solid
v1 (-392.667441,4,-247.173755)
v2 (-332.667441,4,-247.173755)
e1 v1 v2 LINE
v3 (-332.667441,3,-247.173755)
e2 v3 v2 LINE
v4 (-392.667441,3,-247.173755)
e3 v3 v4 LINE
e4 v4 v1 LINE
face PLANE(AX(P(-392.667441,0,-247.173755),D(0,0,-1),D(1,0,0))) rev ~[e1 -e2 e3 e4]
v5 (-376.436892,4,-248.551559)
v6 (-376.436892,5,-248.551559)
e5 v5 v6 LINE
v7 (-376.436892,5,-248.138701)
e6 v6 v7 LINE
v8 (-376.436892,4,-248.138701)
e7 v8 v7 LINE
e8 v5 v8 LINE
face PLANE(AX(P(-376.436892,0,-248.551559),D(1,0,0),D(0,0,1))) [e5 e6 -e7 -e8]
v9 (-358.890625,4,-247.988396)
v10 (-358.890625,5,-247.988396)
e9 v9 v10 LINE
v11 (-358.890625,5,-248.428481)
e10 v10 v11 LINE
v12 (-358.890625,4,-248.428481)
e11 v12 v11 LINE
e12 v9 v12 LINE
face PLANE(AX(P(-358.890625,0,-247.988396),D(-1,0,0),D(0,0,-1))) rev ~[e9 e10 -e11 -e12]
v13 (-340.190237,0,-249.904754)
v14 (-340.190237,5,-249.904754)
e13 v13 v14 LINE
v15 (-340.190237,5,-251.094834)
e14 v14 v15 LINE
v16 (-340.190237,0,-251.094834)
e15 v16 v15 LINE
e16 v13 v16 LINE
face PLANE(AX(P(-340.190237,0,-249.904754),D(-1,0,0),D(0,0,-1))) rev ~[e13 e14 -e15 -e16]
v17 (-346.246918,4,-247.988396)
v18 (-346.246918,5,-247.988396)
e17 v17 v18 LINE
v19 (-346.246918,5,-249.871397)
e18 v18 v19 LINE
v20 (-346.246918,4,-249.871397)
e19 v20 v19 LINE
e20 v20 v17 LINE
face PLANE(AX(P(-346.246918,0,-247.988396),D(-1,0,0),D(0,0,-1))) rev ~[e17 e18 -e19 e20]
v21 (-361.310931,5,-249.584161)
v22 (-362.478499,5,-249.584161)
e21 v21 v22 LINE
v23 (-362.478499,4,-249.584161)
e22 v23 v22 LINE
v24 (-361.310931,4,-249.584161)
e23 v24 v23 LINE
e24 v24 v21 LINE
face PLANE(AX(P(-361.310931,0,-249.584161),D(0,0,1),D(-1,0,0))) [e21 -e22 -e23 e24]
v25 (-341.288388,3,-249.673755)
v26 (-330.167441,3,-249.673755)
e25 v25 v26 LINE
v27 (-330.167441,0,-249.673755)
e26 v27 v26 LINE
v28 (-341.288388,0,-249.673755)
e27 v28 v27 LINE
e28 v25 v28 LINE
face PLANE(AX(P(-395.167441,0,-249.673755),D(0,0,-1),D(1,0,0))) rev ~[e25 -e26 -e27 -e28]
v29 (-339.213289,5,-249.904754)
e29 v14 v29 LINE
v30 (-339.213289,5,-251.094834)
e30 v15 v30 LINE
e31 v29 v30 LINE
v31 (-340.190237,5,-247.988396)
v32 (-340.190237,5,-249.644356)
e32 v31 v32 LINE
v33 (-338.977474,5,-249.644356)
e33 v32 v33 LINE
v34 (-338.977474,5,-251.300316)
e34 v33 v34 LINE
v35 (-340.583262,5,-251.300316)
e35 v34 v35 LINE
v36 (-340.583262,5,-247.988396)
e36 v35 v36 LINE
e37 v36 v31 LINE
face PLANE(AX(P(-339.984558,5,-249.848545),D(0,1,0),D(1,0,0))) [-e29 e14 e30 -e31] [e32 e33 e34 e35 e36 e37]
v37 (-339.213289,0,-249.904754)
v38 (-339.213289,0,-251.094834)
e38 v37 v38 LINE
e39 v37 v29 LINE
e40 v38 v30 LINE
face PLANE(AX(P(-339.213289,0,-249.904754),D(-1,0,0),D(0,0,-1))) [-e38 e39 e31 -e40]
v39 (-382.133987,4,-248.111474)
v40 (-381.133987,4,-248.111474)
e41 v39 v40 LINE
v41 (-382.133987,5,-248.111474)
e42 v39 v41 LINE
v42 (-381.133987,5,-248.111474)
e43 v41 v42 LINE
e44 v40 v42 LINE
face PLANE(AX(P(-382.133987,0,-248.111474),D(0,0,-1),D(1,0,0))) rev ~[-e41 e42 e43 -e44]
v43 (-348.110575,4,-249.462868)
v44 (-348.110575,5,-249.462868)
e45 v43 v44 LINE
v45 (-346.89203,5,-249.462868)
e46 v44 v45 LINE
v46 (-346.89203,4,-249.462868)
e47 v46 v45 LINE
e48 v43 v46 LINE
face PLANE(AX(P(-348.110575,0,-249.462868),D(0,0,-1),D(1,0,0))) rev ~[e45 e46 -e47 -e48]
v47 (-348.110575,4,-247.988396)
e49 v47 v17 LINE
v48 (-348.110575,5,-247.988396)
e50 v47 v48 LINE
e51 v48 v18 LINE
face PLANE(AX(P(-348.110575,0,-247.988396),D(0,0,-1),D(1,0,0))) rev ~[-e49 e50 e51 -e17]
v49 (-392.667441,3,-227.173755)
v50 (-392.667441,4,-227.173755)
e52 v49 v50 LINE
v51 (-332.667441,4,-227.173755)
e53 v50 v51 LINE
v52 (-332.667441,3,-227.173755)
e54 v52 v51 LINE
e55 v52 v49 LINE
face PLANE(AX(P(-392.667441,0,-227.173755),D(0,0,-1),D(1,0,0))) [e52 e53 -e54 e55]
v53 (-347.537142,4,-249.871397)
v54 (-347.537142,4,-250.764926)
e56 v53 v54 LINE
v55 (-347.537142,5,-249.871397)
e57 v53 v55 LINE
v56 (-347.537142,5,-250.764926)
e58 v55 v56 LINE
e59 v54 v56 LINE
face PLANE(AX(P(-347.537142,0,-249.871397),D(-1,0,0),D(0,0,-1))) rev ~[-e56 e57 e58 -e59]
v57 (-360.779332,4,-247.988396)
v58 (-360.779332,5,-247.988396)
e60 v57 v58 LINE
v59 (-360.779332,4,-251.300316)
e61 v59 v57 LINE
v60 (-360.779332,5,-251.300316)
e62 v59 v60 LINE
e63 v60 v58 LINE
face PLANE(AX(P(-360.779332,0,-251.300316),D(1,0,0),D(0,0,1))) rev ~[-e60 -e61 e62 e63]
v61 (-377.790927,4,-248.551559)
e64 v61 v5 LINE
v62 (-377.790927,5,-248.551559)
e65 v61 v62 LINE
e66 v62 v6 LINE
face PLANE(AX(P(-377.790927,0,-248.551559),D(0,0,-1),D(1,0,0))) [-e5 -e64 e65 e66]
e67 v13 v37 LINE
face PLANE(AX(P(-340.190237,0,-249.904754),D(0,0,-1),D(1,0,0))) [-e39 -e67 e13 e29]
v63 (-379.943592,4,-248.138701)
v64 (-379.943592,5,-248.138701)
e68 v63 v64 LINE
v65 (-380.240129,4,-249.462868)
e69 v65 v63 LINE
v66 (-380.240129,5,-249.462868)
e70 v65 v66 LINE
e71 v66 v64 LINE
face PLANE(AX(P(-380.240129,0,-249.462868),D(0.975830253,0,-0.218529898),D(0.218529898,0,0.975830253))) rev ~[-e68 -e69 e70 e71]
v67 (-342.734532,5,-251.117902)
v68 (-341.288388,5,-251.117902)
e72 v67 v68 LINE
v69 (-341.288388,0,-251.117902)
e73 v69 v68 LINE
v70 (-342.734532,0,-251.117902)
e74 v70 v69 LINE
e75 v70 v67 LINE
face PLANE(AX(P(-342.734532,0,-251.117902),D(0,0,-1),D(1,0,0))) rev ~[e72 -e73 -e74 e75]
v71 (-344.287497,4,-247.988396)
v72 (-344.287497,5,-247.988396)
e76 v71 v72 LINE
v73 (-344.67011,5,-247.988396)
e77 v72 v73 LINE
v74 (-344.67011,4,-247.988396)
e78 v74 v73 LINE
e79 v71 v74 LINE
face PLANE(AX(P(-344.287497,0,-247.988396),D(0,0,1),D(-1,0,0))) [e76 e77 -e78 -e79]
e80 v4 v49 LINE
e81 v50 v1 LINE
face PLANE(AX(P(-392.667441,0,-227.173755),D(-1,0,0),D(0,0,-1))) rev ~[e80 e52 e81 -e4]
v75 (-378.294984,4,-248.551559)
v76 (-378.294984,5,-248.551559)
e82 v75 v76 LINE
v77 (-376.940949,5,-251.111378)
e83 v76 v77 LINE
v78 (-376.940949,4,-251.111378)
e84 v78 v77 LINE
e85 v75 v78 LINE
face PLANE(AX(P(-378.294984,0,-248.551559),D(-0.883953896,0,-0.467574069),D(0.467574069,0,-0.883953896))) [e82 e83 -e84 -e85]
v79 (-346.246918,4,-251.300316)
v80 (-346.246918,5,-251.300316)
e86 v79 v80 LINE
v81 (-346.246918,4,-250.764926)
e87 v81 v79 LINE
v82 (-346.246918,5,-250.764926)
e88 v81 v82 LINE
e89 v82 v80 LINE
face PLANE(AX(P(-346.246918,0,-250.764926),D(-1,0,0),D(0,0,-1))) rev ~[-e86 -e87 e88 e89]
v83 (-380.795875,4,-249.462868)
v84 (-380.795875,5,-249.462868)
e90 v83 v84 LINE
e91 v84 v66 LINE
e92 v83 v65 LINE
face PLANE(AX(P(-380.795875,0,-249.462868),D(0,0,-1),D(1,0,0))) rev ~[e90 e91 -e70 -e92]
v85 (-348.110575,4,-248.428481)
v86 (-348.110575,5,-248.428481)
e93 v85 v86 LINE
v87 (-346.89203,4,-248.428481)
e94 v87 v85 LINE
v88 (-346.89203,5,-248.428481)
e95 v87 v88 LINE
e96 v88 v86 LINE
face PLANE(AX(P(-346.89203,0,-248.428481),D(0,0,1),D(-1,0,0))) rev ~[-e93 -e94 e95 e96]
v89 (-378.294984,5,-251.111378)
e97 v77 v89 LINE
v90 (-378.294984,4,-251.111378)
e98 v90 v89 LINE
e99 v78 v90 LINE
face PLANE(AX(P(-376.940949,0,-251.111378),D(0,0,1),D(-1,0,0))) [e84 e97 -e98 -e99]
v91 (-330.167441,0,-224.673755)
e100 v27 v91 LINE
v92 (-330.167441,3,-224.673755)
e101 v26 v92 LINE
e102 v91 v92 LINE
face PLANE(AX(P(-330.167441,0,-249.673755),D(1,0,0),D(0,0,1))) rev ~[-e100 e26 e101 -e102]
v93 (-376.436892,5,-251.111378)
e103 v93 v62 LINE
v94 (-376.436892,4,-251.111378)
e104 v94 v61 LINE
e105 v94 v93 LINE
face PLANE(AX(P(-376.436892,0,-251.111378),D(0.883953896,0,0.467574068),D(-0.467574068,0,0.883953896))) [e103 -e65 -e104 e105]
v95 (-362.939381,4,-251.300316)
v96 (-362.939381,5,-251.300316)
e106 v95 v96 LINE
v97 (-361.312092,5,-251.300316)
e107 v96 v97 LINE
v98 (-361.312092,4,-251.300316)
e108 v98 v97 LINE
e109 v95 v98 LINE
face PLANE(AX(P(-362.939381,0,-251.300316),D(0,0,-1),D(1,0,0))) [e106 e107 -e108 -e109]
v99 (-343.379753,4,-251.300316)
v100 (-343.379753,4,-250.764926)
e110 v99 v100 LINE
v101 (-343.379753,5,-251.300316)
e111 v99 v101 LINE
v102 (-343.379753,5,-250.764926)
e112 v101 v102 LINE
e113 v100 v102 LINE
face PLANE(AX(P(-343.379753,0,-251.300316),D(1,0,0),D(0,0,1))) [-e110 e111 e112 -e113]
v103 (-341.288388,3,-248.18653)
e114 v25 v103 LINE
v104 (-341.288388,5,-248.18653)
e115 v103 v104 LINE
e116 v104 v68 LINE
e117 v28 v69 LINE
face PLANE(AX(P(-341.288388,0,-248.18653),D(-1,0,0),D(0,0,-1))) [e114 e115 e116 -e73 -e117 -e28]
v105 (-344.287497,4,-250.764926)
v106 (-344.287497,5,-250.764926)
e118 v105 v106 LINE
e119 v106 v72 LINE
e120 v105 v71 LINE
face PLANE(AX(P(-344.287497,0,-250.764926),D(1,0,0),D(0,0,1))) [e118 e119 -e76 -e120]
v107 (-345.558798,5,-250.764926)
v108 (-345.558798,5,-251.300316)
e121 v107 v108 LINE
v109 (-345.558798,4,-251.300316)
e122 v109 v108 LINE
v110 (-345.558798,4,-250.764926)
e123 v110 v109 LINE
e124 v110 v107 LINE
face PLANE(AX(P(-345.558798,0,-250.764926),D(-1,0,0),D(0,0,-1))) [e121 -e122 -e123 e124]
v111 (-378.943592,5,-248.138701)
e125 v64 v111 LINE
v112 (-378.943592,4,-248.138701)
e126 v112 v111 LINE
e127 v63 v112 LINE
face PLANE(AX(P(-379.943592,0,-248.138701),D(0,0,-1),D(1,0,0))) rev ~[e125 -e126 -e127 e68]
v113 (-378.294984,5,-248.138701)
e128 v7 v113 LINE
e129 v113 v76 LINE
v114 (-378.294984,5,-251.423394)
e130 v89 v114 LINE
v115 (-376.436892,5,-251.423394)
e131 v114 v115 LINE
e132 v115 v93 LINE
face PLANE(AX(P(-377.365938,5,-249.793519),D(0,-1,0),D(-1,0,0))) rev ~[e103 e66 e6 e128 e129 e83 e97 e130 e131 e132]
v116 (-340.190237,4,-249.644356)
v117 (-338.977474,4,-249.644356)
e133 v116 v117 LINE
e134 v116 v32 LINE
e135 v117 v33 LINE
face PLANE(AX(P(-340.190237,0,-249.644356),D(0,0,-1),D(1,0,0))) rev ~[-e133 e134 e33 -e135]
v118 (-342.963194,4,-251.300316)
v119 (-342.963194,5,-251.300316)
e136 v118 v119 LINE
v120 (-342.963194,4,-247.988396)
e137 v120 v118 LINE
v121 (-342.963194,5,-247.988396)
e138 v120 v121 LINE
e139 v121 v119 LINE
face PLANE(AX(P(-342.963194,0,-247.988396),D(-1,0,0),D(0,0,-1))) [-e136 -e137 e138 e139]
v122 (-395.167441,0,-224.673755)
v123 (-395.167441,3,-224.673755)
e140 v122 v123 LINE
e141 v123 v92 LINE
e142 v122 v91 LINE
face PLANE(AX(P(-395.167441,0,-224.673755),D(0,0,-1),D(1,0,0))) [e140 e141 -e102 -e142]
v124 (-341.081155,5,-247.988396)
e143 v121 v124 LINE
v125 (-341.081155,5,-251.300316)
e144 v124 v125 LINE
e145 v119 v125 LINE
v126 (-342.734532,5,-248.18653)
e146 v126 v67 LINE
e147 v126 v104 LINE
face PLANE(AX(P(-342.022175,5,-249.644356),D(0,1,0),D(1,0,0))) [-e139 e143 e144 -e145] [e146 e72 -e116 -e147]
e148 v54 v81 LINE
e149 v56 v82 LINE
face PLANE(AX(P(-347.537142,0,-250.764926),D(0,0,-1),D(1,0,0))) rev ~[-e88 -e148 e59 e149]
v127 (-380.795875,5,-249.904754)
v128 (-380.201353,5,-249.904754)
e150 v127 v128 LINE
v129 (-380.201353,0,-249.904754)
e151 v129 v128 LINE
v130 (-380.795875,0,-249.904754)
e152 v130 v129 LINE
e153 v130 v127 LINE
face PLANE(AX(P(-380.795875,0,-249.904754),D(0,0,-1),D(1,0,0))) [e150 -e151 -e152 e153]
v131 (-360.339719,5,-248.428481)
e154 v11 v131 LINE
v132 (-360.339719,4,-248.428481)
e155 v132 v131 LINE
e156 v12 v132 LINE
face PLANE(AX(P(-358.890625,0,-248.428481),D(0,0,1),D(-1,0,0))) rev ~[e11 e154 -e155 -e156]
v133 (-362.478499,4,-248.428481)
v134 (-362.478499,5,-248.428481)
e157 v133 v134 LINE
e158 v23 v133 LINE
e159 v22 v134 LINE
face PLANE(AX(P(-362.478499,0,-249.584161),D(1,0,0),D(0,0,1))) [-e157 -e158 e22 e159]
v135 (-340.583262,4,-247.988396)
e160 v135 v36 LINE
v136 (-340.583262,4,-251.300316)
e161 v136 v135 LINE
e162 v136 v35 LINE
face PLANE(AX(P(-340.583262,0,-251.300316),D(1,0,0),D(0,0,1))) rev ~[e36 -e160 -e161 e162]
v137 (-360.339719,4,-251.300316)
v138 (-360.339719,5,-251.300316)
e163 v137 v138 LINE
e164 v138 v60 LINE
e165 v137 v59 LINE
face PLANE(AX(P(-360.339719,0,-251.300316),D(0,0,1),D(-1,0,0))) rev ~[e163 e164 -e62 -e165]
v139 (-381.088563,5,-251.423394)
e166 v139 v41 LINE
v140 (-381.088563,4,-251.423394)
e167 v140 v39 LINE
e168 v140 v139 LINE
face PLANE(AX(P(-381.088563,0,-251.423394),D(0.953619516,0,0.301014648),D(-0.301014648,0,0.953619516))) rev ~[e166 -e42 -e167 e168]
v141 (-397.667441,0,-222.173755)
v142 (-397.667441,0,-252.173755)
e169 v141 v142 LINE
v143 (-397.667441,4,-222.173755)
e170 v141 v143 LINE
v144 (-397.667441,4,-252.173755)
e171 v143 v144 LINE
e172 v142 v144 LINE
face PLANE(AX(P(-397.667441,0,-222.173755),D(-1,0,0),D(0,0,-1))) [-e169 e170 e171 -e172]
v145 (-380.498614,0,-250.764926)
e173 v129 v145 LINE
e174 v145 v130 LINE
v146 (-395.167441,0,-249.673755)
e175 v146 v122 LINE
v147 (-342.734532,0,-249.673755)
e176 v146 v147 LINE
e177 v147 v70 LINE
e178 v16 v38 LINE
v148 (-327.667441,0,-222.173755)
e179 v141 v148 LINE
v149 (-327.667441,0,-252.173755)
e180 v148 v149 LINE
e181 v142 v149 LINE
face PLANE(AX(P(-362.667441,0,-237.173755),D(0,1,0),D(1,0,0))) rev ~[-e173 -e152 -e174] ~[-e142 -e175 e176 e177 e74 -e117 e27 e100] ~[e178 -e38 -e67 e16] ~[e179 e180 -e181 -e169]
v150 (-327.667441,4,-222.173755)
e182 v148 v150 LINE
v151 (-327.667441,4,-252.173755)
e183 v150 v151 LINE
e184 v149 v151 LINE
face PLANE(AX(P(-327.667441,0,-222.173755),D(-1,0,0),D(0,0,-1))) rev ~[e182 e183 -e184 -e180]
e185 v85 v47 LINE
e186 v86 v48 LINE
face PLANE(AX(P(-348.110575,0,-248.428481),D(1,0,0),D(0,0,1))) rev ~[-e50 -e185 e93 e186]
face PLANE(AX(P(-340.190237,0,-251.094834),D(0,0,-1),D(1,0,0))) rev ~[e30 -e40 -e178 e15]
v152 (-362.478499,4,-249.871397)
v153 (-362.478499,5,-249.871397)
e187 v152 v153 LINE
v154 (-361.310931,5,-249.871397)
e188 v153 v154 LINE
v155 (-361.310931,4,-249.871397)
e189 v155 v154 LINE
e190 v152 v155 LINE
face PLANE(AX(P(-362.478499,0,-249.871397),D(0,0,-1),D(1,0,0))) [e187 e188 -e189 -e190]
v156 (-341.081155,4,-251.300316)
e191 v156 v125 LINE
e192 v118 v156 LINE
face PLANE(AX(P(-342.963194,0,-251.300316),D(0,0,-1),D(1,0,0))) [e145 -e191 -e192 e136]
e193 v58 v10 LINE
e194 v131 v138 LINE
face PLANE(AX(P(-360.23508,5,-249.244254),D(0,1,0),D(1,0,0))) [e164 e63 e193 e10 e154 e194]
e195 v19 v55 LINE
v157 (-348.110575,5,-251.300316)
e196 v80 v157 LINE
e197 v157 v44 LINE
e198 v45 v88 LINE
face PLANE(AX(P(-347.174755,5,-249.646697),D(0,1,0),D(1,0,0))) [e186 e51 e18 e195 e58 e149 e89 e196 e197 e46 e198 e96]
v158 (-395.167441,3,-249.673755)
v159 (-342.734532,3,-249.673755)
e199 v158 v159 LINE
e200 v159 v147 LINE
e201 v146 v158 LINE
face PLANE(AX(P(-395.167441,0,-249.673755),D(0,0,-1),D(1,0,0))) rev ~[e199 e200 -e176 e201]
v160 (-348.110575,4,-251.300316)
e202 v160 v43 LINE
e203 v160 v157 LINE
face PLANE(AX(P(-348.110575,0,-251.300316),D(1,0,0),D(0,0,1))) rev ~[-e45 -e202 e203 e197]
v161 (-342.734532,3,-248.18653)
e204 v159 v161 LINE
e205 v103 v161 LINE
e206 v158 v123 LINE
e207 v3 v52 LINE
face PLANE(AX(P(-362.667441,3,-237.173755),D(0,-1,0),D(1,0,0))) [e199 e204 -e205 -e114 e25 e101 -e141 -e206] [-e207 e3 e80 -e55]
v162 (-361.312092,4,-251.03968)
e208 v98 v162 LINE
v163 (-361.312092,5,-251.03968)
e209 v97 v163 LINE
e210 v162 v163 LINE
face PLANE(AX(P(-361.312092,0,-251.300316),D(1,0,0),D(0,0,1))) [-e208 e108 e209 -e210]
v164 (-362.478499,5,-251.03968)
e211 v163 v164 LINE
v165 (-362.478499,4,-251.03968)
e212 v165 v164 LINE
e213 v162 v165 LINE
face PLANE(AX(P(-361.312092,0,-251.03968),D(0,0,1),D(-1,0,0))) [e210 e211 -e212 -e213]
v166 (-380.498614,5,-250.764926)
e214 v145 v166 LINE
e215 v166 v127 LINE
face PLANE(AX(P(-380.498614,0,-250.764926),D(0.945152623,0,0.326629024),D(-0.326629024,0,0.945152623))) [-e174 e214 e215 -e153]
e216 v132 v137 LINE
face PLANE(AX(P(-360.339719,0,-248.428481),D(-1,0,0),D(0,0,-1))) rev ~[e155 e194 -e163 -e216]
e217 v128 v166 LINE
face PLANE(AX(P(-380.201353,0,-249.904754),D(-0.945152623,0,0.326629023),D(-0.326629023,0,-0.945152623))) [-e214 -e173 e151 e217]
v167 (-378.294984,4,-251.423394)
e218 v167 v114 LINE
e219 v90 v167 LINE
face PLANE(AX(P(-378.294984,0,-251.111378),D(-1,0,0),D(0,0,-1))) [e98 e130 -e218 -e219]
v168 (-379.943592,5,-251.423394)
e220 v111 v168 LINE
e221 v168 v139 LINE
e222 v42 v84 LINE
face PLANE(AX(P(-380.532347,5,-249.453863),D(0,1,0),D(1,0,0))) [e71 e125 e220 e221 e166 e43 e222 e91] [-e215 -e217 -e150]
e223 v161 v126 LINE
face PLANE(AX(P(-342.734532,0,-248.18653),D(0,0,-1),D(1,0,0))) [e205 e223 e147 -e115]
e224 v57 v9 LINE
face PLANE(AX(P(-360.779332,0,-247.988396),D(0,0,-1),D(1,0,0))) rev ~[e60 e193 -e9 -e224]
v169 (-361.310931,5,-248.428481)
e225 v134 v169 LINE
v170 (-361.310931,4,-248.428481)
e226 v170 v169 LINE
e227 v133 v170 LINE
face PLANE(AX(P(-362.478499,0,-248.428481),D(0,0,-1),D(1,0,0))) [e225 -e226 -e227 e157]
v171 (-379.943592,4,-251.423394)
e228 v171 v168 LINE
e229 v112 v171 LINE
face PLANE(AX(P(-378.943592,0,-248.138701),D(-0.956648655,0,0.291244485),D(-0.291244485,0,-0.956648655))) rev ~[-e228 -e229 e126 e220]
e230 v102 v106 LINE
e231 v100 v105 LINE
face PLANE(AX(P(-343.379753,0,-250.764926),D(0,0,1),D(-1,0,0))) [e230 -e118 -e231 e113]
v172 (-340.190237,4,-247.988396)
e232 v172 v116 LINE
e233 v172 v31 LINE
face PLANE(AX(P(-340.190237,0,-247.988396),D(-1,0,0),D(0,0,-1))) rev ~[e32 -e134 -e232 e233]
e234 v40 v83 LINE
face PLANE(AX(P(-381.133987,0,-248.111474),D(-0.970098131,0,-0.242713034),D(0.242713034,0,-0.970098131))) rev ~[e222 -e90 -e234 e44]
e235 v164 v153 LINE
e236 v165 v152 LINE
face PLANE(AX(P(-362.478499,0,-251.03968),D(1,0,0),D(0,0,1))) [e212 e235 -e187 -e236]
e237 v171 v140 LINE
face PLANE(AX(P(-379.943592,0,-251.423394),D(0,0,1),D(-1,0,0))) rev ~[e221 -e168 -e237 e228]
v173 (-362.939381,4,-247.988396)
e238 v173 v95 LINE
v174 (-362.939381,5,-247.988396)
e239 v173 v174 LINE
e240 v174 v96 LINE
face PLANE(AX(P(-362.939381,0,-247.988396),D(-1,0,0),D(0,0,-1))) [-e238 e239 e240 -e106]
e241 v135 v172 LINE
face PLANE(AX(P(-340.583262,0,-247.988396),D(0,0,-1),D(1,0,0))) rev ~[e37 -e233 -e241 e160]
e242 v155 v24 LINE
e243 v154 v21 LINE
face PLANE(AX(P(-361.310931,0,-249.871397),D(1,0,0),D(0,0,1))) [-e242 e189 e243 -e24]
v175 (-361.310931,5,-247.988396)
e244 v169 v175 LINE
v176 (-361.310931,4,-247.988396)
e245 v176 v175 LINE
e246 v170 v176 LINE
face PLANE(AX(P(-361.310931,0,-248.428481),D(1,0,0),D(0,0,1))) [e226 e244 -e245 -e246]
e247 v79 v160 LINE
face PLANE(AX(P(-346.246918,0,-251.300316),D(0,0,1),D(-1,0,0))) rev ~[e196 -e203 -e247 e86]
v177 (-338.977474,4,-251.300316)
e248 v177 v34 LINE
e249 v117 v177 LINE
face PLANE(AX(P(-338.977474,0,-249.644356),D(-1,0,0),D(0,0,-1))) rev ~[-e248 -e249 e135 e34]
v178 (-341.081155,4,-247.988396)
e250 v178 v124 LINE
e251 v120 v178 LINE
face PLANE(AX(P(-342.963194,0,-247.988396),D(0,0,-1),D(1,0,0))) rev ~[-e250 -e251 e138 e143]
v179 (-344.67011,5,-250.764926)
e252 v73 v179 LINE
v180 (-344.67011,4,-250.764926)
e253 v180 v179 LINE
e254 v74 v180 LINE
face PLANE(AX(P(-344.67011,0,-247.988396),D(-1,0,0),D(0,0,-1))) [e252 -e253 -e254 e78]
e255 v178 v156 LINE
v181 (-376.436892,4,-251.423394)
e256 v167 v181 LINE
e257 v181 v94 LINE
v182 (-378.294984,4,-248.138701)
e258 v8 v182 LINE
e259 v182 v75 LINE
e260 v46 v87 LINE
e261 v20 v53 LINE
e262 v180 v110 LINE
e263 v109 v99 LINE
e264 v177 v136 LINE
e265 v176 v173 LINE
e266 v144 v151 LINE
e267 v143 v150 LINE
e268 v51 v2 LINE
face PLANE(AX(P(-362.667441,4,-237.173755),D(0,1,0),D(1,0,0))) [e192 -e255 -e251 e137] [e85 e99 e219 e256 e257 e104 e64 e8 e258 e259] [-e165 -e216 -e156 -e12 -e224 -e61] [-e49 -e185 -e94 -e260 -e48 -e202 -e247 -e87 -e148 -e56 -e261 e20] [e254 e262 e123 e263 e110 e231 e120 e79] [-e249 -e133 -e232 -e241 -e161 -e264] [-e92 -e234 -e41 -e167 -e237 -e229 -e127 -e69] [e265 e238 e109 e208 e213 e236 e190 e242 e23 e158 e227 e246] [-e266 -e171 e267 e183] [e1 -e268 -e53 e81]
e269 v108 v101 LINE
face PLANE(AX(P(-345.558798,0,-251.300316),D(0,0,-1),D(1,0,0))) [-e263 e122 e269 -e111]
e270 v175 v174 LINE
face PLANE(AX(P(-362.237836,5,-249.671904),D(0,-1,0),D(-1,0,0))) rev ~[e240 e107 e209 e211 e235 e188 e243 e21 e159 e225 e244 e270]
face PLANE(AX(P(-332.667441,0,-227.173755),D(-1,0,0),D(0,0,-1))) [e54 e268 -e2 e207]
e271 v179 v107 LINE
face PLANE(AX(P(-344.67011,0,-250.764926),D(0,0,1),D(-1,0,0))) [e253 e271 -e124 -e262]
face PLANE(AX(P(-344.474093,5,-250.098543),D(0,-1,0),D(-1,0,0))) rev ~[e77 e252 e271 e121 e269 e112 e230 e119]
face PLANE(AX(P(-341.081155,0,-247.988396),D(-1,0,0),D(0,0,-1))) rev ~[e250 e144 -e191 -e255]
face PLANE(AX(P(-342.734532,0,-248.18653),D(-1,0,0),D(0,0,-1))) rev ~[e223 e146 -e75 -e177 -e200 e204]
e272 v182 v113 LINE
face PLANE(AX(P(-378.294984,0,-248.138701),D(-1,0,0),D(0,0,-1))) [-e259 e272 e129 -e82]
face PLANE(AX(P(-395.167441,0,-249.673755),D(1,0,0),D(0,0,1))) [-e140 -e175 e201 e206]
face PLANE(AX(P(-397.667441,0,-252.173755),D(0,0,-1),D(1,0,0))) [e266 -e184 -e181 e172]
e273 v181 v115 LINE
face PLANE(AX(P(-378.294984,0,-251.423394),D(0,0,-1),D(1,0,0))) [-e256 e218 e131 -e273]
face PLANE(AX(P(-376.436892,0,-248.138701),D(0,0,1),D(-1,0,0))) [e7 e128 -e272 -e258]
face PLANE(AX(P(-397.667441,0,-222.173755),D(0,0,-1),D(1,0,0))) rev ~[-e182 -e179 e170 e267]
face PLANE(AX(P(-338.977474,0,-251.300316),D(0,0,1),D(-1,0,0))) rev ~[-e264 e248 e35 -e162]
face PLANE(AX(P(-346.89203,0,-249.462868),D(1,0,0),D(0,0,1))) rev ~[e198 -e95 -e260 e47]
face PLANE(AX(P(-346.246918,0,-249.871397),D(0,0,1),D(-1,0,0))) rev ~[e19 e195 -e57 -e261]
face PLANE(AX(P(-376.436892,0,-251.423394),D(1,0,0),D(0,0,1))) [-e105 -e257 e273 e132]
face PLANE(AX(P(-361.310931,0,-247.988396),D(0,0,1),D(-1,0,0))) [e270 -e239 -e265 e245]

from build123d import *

# Parameters (mm, degrees)
SALIENTE_EXTRUIR1_DEPTH   = 5
SALIENTE_EXTRUIR1_2_DEPTH = 5
SALIENTE_EXTRUIR1_3_DEPTH = 5
SALIENTE_EXTRUIR1_4_DEPTH = 5
SALIENTE_EXTRUIR1_5_DEPTH = 5
SALIENTE_EXTRUIR1_6_DEPTH = 5
CROQUIS1_W                = 1.882038395
CROQUIS1_H                = 3.311920174
CROQUIS1_W_2              = 1.44614363
CROQUIS1_H_2              = 2.931372224
SALIENTE_EXTRUIR1_7_DEPTH = 5
CROQUIS1_W_3              = 0.976947733
CROQUIS1_H_3              = 1.190080085
SALIENTE_EXTRUIR1_8_DEPTH = 5
CROQUIS1_3_W              = 70
CROQUIS1_3_H              = 30
CROQUIS1_3_W_2            = 60
CROQUIS1_3_H_2            = 20
CROQUIS1_3_W_3            = 1.882038395
CROQUIS1_3_H_3            = 3.311920174
SALIENTE_EXTRUIR2_DEPTH   = 4
CROQUIS3_W                = 65
CROQUIS3_H                = 25
CORTAR_EXTRUIR1_DEPTH     = 3


with BuildPart() as part:
    # Croquis1 → Saliente-Extruir1 (new body)
    with BuildSketch(Plane(origin=(0, 0, 0), x_dir=(1, 0, 0), z_dir=(0, 1, 0))):
        Polygon((-381.088562756, 251.423394178), (-382.133986502, 248.111474004), (-381.133986502, 248.111474004), (-380.795875473, 249.462867756), (-380.240129471, 249.462867756), (-379.943592304, 248.138701402), (-378.943592304, 248.138701402), (-379.943592304, 251.423394178), align=None)
        Polygon((-380.2013533, 249.904754056), (-380.795875473, 249.904754056), (-380.498614386, 250.764925918), align=None, mode=Mode.SUBTRACT)
    extrude(amount=SALIENTE_EXTRUIR1_DEPTH)



with BuildPart() as body_2:
    # Croquis1 → Saliente-Extruir1 2 (new body)
    with BuildSketch(Plane(origin=(0, 0, 0), x_dir=(1, 0, 0), z_dir=(0, 1, 0))):
        Polygon((-376.436891972, 251.423394178), (-378.294984375, 251.423394178), (-378.294984375, 251.111377613), (-376.940948953, 251.111377613), (-378.294984375, 248.551558823), (-378.294984375, 248.138701402), (-376.436891972, 248.138701402), (-376.436891972, 248.551558823), (-377.790927393, 248.551558823), (-376.436891972, 251.111377613), align=None)
    extrude(amount=SALIENTE_EXTRUIR1_2_DEPTH)


with BuildPart() as body_3:
    # Croquis1 → Saliente-Extruir1 3 (new body)
    with BuildSketch(Plane(origin=(0, 0, 0), x_dir=(1, 0, 0), z_dir=(0, 1, 0))):
        Polygon((-361.312091548, 251.300316154), (-362.939380698, 251.300316154), (-362.939380698, 247.98839598), (-361.310931064, 247.98839598), (-361.310931064, 248.428480798), (-362.478498726, 248.428480798), (-362.478498726, 249.584160603), (-361.310931064, 249.584160603), (-361.310931064, 249.871397066), (-362.478498726, 249.871397066), (-362.478498726, 251.039680014), (-361.312091548, 251.039680014), align=None)
    extrude(amount=SALIENTE_EXTRUIR1_3_DEPTH)


with BuildPart() as body_4:
    # Croquis1 → Saliente-Extruir1 4 (new body)
    with BuildSketch(Plane(origin=(0, 0, 0), x_dir=(1, 0, 0), z_dir=(0, 1, 0))):
        Polygon((-360.339718911, 251.300316154), (-360.779331555, 251.300316154), (-360.779331555, 247.98839598), (-358.890625378, 247.98839598), (-358.890625378, 248.428480798), (-360.339718911, 248.428480798), align=None)
    extrude(amount=SALIENTE_EXTRUIR1_4_DEPTH)


with BuildPart() as body_5:
    # Croquis1 → Saliente-Extruir1 5 (new body)
    with BuildSketch(Plane(origin=(0, 0, 0), x_dir=(1, 0, 0), z_dir=(0, 1, 0))):
        Polygon((-346.246917904, 251.300316154), (-348.110575355, 251.300316154), (-348.110575355, 249.462867756), (-346.892030098, 249.462867756), (-346.892030098, 248.428480798), (-348.110575355, 248.428480798), (-348.110575355, 247.98839598), (-346.246917904, 247.98839598), (-346.246917904, 249.871397066), (-347.537142293, 249.871397066), (-347.537142293, 250.764925918), (-346.246917904, 250.764925918), align=None)
    extrude(amount=SALIENTE_EXTRUIR1_5_DEPTH)


with BuildPart() as body_6:
    # Croquis1 → Saliente-Extruir1 6 (new body)
    with BuildSketch(Plane(origin=(0, 0, 0), x_dir=(1, 0, 0), z_dir=(0, 1, 0))):
        Polygon((-343.379752594, 251.300316154), (-345.558798229, 251.300316154), (-345.558798229, 250.764925918), (-344.670110195, 250.764925918), (-344.670110195, 247.98839598), (-344.28749707, 247.98839598), (-344.28749707, 250.764925918), (-343.379752594, 250.764925918), align=None)
    extrude(amount=SALIENTE_EXTRUIR1_6_DEPTH)


with BuildPart() as body_7:
    # Croquis1 → Saliente-Extruir1 7 (new body)
    with BuildSketch(Plane(origin=(0, 0, 0), x_dir=(1, 0, 0), z_dir=(0, 1, 0))):
        with Locations((-342.02217467, 249.644356067)):
            Rectangle(CROQUIS1_W, CROQUIS1_H)
        with Locations((-342.011459779, 249.652215762)):
            Rectangle(CROQUIS1_W_2, CROQUIS1_H_2, mode=Mode.SUBTRACT)
    extrude(amount=SALIENTE_EXTRUIR1_7_DEPTH)


with BuildPart() as body_8:
    # Croquis1 → Saliente-Extruir1 8 (new body)
    with BuildSketch(Plane(origin=(0, 0, 0), x_dir=(1, 0, 0), z_dir=(0, 1, 0))):
        Polygon((-338.977474459, 251.300316154), (-340.583262112, 251.300316154), (-340.583262112, 247.98839598), (-340.190237162, 247.98839598), (-340.190237162, 249.644356067), (-338.977474459, 249.644356067), align=None)
        with Locations((-339.701763296, 250.499794098)):
            Rectangle(CROQUIS1_W_3, CROQUIS1_H_3, mode=Mode.SUBTRACT)
    extrude(amount=SALIENTE_EXTRUIR1_8_DEPTH)


with BuildPart() as part_1:
    add(part.part)

    add(body_2.part)  # Saliente-Extruir2 merges body 2

    add(body_3.part)  # Saliente-Extruir2 merges body 3

    add(body_4.part)  # Saliente-Extruir2 merges body 4

    add(body_5.part)  # Saliente-Extruir2 merges body 5

    add(body_6.part)  # Saliente-Extruir2 merges body 6

    add(body_7.part)  # Saliente-Extruir2 merges body 7

    add(body_8.part)  # Saliente-Extruir2 merges body 8
    # Croquis1<3> → Saliente-Extruir2 (add)
    with BuildSketch(Plane(origin=(0, 0, 0), x_dir=(1, 0, 0), z_dir=(0, 1, 0))):
        with Locations((-362.667441108, 237.173755489)):
            Rectangle(CROQUIS1_3_W, CROQUIS1_3_H)
        Polygon((-381.133986502, 248.111474004), (-382.133986502, 248.111474004), (-381.088562756, 251.423394178), (-379.943592304, 251.423394178), (-378.943592304, 248.138701402), (-379.943592304, 248.138701402), (-380.240129471, 249.462867756), (-380.795875473, 249.462867756), align=None, mode=Mode.SUBTRACT)
        Polygon((-378.294984375, 251.111377613), (-378.294984375, 251.423394178), (-376.436891972, 251.423394178), (-376.436891972, 251.111377613), (-377.790927393, 248.551558823), (-376.436891972, 248.551558823), (-376.436891972, 248.138701402), (-378.294984375, 248.138701402), (-378.294984375, 248.551558823), (-376.940948953, 251.111377613), align=None, mode=Mode.SUBTRACT)
        with Locations((-362.667441108, 237.173755489)):
            Rectangle(CROQUIS1_3_W_2, CROQUIS1_3_H_2, mode=Mode.SUBTRACT)
        Polygon((-362.939380698, 247.98839598), (-362.939380698, 251.300316154), (-361.312091548, 251.300316154), (-361.312091548, 251.039680014), (-362.478498726, 251.039680014), (-362.478498726, 249.871397066), (-361.310931064, 249.871397066), (-361.310931064, 249.584160603), (-362.478498726, 249.584160603), (-362.478498726, 248.428480798), (-361.310931064, 248.428480798), (-361.310931064, 247.98839598), align=None, mode=Mode.SUBTRACT)
        Polygon((-360.779331555, 247.98839598), (-360.779331555, 251.300316154), (-360.339718911, 251.300316154), (-360.339718911, 248.428480798), (-358.890625378, 248.428480798), (-358.890625378, 247.98839598), align=None, mode=Mode.SUBTRACT)
        Polygon((-348.110575355, 249.462867756), (-348.110575355, 251.300316154), (-346.246917904, 251.300316154), (-346.246917904, 250.764925918), (-347.537142293, 250.764925918), (-347.537142293, 249.871397066), (-346.246917904, 249.871397066), (-346.246917904, 249.462867756), (-346.246917904, 247.98839598), (-348.110575355, 247.98839598), (-348.110575355, 248.428480798), (-346.892030098, 248.428480798), (-346.892030098, 249.462867756), align=None, mode=Mode.SUBTRACT)
        Polygon((-345.558798229, 250.764925918), (-345.558798229, 251.300316154), (-343.379752594, 251.300316154), (-343.379752594, 250.764925918), (-344.28749707, 250.764925918), (-344.28749707, 247.98839598), (-344.670110195, 247.98839598), (-344.670110195, 250.764925918), align=None, mode=Mode.SUBTRACT)
        with Locations((-342.02217467, 249.644356067)):
            Rectangle(CROQUIS1_3_W_3, CROQUIS1_3_H_3, mode=Mode.SUBTRACT)
        Polygon((-340.583262112, 247.98839598), (-340.583262112, 251.300316154), (-338.977474459, 251.300316154), (-338.977474459, 249.644356067), (-340.190237162, 249.644356067), (-340.190237162, 247.98839598), align=None, mode=Mode.SUBTRACT)
    extrude(amount=SALIENTE_EXTRUIR2_DEPTH)

    # Croquis3 → Cortar-Extruir1 (cut)
    with BuildSketch(Plane.XZ):
        with Locations((-362.667441108, -237.173755489)):
            Rectangle(CROQUIS3_W, CROQUIS3_H)
    extrude(amount=-CORTAR_EXTRUIR1_DEPTH, mode=Mode.SUBTRACT)


solid = part_1.part
